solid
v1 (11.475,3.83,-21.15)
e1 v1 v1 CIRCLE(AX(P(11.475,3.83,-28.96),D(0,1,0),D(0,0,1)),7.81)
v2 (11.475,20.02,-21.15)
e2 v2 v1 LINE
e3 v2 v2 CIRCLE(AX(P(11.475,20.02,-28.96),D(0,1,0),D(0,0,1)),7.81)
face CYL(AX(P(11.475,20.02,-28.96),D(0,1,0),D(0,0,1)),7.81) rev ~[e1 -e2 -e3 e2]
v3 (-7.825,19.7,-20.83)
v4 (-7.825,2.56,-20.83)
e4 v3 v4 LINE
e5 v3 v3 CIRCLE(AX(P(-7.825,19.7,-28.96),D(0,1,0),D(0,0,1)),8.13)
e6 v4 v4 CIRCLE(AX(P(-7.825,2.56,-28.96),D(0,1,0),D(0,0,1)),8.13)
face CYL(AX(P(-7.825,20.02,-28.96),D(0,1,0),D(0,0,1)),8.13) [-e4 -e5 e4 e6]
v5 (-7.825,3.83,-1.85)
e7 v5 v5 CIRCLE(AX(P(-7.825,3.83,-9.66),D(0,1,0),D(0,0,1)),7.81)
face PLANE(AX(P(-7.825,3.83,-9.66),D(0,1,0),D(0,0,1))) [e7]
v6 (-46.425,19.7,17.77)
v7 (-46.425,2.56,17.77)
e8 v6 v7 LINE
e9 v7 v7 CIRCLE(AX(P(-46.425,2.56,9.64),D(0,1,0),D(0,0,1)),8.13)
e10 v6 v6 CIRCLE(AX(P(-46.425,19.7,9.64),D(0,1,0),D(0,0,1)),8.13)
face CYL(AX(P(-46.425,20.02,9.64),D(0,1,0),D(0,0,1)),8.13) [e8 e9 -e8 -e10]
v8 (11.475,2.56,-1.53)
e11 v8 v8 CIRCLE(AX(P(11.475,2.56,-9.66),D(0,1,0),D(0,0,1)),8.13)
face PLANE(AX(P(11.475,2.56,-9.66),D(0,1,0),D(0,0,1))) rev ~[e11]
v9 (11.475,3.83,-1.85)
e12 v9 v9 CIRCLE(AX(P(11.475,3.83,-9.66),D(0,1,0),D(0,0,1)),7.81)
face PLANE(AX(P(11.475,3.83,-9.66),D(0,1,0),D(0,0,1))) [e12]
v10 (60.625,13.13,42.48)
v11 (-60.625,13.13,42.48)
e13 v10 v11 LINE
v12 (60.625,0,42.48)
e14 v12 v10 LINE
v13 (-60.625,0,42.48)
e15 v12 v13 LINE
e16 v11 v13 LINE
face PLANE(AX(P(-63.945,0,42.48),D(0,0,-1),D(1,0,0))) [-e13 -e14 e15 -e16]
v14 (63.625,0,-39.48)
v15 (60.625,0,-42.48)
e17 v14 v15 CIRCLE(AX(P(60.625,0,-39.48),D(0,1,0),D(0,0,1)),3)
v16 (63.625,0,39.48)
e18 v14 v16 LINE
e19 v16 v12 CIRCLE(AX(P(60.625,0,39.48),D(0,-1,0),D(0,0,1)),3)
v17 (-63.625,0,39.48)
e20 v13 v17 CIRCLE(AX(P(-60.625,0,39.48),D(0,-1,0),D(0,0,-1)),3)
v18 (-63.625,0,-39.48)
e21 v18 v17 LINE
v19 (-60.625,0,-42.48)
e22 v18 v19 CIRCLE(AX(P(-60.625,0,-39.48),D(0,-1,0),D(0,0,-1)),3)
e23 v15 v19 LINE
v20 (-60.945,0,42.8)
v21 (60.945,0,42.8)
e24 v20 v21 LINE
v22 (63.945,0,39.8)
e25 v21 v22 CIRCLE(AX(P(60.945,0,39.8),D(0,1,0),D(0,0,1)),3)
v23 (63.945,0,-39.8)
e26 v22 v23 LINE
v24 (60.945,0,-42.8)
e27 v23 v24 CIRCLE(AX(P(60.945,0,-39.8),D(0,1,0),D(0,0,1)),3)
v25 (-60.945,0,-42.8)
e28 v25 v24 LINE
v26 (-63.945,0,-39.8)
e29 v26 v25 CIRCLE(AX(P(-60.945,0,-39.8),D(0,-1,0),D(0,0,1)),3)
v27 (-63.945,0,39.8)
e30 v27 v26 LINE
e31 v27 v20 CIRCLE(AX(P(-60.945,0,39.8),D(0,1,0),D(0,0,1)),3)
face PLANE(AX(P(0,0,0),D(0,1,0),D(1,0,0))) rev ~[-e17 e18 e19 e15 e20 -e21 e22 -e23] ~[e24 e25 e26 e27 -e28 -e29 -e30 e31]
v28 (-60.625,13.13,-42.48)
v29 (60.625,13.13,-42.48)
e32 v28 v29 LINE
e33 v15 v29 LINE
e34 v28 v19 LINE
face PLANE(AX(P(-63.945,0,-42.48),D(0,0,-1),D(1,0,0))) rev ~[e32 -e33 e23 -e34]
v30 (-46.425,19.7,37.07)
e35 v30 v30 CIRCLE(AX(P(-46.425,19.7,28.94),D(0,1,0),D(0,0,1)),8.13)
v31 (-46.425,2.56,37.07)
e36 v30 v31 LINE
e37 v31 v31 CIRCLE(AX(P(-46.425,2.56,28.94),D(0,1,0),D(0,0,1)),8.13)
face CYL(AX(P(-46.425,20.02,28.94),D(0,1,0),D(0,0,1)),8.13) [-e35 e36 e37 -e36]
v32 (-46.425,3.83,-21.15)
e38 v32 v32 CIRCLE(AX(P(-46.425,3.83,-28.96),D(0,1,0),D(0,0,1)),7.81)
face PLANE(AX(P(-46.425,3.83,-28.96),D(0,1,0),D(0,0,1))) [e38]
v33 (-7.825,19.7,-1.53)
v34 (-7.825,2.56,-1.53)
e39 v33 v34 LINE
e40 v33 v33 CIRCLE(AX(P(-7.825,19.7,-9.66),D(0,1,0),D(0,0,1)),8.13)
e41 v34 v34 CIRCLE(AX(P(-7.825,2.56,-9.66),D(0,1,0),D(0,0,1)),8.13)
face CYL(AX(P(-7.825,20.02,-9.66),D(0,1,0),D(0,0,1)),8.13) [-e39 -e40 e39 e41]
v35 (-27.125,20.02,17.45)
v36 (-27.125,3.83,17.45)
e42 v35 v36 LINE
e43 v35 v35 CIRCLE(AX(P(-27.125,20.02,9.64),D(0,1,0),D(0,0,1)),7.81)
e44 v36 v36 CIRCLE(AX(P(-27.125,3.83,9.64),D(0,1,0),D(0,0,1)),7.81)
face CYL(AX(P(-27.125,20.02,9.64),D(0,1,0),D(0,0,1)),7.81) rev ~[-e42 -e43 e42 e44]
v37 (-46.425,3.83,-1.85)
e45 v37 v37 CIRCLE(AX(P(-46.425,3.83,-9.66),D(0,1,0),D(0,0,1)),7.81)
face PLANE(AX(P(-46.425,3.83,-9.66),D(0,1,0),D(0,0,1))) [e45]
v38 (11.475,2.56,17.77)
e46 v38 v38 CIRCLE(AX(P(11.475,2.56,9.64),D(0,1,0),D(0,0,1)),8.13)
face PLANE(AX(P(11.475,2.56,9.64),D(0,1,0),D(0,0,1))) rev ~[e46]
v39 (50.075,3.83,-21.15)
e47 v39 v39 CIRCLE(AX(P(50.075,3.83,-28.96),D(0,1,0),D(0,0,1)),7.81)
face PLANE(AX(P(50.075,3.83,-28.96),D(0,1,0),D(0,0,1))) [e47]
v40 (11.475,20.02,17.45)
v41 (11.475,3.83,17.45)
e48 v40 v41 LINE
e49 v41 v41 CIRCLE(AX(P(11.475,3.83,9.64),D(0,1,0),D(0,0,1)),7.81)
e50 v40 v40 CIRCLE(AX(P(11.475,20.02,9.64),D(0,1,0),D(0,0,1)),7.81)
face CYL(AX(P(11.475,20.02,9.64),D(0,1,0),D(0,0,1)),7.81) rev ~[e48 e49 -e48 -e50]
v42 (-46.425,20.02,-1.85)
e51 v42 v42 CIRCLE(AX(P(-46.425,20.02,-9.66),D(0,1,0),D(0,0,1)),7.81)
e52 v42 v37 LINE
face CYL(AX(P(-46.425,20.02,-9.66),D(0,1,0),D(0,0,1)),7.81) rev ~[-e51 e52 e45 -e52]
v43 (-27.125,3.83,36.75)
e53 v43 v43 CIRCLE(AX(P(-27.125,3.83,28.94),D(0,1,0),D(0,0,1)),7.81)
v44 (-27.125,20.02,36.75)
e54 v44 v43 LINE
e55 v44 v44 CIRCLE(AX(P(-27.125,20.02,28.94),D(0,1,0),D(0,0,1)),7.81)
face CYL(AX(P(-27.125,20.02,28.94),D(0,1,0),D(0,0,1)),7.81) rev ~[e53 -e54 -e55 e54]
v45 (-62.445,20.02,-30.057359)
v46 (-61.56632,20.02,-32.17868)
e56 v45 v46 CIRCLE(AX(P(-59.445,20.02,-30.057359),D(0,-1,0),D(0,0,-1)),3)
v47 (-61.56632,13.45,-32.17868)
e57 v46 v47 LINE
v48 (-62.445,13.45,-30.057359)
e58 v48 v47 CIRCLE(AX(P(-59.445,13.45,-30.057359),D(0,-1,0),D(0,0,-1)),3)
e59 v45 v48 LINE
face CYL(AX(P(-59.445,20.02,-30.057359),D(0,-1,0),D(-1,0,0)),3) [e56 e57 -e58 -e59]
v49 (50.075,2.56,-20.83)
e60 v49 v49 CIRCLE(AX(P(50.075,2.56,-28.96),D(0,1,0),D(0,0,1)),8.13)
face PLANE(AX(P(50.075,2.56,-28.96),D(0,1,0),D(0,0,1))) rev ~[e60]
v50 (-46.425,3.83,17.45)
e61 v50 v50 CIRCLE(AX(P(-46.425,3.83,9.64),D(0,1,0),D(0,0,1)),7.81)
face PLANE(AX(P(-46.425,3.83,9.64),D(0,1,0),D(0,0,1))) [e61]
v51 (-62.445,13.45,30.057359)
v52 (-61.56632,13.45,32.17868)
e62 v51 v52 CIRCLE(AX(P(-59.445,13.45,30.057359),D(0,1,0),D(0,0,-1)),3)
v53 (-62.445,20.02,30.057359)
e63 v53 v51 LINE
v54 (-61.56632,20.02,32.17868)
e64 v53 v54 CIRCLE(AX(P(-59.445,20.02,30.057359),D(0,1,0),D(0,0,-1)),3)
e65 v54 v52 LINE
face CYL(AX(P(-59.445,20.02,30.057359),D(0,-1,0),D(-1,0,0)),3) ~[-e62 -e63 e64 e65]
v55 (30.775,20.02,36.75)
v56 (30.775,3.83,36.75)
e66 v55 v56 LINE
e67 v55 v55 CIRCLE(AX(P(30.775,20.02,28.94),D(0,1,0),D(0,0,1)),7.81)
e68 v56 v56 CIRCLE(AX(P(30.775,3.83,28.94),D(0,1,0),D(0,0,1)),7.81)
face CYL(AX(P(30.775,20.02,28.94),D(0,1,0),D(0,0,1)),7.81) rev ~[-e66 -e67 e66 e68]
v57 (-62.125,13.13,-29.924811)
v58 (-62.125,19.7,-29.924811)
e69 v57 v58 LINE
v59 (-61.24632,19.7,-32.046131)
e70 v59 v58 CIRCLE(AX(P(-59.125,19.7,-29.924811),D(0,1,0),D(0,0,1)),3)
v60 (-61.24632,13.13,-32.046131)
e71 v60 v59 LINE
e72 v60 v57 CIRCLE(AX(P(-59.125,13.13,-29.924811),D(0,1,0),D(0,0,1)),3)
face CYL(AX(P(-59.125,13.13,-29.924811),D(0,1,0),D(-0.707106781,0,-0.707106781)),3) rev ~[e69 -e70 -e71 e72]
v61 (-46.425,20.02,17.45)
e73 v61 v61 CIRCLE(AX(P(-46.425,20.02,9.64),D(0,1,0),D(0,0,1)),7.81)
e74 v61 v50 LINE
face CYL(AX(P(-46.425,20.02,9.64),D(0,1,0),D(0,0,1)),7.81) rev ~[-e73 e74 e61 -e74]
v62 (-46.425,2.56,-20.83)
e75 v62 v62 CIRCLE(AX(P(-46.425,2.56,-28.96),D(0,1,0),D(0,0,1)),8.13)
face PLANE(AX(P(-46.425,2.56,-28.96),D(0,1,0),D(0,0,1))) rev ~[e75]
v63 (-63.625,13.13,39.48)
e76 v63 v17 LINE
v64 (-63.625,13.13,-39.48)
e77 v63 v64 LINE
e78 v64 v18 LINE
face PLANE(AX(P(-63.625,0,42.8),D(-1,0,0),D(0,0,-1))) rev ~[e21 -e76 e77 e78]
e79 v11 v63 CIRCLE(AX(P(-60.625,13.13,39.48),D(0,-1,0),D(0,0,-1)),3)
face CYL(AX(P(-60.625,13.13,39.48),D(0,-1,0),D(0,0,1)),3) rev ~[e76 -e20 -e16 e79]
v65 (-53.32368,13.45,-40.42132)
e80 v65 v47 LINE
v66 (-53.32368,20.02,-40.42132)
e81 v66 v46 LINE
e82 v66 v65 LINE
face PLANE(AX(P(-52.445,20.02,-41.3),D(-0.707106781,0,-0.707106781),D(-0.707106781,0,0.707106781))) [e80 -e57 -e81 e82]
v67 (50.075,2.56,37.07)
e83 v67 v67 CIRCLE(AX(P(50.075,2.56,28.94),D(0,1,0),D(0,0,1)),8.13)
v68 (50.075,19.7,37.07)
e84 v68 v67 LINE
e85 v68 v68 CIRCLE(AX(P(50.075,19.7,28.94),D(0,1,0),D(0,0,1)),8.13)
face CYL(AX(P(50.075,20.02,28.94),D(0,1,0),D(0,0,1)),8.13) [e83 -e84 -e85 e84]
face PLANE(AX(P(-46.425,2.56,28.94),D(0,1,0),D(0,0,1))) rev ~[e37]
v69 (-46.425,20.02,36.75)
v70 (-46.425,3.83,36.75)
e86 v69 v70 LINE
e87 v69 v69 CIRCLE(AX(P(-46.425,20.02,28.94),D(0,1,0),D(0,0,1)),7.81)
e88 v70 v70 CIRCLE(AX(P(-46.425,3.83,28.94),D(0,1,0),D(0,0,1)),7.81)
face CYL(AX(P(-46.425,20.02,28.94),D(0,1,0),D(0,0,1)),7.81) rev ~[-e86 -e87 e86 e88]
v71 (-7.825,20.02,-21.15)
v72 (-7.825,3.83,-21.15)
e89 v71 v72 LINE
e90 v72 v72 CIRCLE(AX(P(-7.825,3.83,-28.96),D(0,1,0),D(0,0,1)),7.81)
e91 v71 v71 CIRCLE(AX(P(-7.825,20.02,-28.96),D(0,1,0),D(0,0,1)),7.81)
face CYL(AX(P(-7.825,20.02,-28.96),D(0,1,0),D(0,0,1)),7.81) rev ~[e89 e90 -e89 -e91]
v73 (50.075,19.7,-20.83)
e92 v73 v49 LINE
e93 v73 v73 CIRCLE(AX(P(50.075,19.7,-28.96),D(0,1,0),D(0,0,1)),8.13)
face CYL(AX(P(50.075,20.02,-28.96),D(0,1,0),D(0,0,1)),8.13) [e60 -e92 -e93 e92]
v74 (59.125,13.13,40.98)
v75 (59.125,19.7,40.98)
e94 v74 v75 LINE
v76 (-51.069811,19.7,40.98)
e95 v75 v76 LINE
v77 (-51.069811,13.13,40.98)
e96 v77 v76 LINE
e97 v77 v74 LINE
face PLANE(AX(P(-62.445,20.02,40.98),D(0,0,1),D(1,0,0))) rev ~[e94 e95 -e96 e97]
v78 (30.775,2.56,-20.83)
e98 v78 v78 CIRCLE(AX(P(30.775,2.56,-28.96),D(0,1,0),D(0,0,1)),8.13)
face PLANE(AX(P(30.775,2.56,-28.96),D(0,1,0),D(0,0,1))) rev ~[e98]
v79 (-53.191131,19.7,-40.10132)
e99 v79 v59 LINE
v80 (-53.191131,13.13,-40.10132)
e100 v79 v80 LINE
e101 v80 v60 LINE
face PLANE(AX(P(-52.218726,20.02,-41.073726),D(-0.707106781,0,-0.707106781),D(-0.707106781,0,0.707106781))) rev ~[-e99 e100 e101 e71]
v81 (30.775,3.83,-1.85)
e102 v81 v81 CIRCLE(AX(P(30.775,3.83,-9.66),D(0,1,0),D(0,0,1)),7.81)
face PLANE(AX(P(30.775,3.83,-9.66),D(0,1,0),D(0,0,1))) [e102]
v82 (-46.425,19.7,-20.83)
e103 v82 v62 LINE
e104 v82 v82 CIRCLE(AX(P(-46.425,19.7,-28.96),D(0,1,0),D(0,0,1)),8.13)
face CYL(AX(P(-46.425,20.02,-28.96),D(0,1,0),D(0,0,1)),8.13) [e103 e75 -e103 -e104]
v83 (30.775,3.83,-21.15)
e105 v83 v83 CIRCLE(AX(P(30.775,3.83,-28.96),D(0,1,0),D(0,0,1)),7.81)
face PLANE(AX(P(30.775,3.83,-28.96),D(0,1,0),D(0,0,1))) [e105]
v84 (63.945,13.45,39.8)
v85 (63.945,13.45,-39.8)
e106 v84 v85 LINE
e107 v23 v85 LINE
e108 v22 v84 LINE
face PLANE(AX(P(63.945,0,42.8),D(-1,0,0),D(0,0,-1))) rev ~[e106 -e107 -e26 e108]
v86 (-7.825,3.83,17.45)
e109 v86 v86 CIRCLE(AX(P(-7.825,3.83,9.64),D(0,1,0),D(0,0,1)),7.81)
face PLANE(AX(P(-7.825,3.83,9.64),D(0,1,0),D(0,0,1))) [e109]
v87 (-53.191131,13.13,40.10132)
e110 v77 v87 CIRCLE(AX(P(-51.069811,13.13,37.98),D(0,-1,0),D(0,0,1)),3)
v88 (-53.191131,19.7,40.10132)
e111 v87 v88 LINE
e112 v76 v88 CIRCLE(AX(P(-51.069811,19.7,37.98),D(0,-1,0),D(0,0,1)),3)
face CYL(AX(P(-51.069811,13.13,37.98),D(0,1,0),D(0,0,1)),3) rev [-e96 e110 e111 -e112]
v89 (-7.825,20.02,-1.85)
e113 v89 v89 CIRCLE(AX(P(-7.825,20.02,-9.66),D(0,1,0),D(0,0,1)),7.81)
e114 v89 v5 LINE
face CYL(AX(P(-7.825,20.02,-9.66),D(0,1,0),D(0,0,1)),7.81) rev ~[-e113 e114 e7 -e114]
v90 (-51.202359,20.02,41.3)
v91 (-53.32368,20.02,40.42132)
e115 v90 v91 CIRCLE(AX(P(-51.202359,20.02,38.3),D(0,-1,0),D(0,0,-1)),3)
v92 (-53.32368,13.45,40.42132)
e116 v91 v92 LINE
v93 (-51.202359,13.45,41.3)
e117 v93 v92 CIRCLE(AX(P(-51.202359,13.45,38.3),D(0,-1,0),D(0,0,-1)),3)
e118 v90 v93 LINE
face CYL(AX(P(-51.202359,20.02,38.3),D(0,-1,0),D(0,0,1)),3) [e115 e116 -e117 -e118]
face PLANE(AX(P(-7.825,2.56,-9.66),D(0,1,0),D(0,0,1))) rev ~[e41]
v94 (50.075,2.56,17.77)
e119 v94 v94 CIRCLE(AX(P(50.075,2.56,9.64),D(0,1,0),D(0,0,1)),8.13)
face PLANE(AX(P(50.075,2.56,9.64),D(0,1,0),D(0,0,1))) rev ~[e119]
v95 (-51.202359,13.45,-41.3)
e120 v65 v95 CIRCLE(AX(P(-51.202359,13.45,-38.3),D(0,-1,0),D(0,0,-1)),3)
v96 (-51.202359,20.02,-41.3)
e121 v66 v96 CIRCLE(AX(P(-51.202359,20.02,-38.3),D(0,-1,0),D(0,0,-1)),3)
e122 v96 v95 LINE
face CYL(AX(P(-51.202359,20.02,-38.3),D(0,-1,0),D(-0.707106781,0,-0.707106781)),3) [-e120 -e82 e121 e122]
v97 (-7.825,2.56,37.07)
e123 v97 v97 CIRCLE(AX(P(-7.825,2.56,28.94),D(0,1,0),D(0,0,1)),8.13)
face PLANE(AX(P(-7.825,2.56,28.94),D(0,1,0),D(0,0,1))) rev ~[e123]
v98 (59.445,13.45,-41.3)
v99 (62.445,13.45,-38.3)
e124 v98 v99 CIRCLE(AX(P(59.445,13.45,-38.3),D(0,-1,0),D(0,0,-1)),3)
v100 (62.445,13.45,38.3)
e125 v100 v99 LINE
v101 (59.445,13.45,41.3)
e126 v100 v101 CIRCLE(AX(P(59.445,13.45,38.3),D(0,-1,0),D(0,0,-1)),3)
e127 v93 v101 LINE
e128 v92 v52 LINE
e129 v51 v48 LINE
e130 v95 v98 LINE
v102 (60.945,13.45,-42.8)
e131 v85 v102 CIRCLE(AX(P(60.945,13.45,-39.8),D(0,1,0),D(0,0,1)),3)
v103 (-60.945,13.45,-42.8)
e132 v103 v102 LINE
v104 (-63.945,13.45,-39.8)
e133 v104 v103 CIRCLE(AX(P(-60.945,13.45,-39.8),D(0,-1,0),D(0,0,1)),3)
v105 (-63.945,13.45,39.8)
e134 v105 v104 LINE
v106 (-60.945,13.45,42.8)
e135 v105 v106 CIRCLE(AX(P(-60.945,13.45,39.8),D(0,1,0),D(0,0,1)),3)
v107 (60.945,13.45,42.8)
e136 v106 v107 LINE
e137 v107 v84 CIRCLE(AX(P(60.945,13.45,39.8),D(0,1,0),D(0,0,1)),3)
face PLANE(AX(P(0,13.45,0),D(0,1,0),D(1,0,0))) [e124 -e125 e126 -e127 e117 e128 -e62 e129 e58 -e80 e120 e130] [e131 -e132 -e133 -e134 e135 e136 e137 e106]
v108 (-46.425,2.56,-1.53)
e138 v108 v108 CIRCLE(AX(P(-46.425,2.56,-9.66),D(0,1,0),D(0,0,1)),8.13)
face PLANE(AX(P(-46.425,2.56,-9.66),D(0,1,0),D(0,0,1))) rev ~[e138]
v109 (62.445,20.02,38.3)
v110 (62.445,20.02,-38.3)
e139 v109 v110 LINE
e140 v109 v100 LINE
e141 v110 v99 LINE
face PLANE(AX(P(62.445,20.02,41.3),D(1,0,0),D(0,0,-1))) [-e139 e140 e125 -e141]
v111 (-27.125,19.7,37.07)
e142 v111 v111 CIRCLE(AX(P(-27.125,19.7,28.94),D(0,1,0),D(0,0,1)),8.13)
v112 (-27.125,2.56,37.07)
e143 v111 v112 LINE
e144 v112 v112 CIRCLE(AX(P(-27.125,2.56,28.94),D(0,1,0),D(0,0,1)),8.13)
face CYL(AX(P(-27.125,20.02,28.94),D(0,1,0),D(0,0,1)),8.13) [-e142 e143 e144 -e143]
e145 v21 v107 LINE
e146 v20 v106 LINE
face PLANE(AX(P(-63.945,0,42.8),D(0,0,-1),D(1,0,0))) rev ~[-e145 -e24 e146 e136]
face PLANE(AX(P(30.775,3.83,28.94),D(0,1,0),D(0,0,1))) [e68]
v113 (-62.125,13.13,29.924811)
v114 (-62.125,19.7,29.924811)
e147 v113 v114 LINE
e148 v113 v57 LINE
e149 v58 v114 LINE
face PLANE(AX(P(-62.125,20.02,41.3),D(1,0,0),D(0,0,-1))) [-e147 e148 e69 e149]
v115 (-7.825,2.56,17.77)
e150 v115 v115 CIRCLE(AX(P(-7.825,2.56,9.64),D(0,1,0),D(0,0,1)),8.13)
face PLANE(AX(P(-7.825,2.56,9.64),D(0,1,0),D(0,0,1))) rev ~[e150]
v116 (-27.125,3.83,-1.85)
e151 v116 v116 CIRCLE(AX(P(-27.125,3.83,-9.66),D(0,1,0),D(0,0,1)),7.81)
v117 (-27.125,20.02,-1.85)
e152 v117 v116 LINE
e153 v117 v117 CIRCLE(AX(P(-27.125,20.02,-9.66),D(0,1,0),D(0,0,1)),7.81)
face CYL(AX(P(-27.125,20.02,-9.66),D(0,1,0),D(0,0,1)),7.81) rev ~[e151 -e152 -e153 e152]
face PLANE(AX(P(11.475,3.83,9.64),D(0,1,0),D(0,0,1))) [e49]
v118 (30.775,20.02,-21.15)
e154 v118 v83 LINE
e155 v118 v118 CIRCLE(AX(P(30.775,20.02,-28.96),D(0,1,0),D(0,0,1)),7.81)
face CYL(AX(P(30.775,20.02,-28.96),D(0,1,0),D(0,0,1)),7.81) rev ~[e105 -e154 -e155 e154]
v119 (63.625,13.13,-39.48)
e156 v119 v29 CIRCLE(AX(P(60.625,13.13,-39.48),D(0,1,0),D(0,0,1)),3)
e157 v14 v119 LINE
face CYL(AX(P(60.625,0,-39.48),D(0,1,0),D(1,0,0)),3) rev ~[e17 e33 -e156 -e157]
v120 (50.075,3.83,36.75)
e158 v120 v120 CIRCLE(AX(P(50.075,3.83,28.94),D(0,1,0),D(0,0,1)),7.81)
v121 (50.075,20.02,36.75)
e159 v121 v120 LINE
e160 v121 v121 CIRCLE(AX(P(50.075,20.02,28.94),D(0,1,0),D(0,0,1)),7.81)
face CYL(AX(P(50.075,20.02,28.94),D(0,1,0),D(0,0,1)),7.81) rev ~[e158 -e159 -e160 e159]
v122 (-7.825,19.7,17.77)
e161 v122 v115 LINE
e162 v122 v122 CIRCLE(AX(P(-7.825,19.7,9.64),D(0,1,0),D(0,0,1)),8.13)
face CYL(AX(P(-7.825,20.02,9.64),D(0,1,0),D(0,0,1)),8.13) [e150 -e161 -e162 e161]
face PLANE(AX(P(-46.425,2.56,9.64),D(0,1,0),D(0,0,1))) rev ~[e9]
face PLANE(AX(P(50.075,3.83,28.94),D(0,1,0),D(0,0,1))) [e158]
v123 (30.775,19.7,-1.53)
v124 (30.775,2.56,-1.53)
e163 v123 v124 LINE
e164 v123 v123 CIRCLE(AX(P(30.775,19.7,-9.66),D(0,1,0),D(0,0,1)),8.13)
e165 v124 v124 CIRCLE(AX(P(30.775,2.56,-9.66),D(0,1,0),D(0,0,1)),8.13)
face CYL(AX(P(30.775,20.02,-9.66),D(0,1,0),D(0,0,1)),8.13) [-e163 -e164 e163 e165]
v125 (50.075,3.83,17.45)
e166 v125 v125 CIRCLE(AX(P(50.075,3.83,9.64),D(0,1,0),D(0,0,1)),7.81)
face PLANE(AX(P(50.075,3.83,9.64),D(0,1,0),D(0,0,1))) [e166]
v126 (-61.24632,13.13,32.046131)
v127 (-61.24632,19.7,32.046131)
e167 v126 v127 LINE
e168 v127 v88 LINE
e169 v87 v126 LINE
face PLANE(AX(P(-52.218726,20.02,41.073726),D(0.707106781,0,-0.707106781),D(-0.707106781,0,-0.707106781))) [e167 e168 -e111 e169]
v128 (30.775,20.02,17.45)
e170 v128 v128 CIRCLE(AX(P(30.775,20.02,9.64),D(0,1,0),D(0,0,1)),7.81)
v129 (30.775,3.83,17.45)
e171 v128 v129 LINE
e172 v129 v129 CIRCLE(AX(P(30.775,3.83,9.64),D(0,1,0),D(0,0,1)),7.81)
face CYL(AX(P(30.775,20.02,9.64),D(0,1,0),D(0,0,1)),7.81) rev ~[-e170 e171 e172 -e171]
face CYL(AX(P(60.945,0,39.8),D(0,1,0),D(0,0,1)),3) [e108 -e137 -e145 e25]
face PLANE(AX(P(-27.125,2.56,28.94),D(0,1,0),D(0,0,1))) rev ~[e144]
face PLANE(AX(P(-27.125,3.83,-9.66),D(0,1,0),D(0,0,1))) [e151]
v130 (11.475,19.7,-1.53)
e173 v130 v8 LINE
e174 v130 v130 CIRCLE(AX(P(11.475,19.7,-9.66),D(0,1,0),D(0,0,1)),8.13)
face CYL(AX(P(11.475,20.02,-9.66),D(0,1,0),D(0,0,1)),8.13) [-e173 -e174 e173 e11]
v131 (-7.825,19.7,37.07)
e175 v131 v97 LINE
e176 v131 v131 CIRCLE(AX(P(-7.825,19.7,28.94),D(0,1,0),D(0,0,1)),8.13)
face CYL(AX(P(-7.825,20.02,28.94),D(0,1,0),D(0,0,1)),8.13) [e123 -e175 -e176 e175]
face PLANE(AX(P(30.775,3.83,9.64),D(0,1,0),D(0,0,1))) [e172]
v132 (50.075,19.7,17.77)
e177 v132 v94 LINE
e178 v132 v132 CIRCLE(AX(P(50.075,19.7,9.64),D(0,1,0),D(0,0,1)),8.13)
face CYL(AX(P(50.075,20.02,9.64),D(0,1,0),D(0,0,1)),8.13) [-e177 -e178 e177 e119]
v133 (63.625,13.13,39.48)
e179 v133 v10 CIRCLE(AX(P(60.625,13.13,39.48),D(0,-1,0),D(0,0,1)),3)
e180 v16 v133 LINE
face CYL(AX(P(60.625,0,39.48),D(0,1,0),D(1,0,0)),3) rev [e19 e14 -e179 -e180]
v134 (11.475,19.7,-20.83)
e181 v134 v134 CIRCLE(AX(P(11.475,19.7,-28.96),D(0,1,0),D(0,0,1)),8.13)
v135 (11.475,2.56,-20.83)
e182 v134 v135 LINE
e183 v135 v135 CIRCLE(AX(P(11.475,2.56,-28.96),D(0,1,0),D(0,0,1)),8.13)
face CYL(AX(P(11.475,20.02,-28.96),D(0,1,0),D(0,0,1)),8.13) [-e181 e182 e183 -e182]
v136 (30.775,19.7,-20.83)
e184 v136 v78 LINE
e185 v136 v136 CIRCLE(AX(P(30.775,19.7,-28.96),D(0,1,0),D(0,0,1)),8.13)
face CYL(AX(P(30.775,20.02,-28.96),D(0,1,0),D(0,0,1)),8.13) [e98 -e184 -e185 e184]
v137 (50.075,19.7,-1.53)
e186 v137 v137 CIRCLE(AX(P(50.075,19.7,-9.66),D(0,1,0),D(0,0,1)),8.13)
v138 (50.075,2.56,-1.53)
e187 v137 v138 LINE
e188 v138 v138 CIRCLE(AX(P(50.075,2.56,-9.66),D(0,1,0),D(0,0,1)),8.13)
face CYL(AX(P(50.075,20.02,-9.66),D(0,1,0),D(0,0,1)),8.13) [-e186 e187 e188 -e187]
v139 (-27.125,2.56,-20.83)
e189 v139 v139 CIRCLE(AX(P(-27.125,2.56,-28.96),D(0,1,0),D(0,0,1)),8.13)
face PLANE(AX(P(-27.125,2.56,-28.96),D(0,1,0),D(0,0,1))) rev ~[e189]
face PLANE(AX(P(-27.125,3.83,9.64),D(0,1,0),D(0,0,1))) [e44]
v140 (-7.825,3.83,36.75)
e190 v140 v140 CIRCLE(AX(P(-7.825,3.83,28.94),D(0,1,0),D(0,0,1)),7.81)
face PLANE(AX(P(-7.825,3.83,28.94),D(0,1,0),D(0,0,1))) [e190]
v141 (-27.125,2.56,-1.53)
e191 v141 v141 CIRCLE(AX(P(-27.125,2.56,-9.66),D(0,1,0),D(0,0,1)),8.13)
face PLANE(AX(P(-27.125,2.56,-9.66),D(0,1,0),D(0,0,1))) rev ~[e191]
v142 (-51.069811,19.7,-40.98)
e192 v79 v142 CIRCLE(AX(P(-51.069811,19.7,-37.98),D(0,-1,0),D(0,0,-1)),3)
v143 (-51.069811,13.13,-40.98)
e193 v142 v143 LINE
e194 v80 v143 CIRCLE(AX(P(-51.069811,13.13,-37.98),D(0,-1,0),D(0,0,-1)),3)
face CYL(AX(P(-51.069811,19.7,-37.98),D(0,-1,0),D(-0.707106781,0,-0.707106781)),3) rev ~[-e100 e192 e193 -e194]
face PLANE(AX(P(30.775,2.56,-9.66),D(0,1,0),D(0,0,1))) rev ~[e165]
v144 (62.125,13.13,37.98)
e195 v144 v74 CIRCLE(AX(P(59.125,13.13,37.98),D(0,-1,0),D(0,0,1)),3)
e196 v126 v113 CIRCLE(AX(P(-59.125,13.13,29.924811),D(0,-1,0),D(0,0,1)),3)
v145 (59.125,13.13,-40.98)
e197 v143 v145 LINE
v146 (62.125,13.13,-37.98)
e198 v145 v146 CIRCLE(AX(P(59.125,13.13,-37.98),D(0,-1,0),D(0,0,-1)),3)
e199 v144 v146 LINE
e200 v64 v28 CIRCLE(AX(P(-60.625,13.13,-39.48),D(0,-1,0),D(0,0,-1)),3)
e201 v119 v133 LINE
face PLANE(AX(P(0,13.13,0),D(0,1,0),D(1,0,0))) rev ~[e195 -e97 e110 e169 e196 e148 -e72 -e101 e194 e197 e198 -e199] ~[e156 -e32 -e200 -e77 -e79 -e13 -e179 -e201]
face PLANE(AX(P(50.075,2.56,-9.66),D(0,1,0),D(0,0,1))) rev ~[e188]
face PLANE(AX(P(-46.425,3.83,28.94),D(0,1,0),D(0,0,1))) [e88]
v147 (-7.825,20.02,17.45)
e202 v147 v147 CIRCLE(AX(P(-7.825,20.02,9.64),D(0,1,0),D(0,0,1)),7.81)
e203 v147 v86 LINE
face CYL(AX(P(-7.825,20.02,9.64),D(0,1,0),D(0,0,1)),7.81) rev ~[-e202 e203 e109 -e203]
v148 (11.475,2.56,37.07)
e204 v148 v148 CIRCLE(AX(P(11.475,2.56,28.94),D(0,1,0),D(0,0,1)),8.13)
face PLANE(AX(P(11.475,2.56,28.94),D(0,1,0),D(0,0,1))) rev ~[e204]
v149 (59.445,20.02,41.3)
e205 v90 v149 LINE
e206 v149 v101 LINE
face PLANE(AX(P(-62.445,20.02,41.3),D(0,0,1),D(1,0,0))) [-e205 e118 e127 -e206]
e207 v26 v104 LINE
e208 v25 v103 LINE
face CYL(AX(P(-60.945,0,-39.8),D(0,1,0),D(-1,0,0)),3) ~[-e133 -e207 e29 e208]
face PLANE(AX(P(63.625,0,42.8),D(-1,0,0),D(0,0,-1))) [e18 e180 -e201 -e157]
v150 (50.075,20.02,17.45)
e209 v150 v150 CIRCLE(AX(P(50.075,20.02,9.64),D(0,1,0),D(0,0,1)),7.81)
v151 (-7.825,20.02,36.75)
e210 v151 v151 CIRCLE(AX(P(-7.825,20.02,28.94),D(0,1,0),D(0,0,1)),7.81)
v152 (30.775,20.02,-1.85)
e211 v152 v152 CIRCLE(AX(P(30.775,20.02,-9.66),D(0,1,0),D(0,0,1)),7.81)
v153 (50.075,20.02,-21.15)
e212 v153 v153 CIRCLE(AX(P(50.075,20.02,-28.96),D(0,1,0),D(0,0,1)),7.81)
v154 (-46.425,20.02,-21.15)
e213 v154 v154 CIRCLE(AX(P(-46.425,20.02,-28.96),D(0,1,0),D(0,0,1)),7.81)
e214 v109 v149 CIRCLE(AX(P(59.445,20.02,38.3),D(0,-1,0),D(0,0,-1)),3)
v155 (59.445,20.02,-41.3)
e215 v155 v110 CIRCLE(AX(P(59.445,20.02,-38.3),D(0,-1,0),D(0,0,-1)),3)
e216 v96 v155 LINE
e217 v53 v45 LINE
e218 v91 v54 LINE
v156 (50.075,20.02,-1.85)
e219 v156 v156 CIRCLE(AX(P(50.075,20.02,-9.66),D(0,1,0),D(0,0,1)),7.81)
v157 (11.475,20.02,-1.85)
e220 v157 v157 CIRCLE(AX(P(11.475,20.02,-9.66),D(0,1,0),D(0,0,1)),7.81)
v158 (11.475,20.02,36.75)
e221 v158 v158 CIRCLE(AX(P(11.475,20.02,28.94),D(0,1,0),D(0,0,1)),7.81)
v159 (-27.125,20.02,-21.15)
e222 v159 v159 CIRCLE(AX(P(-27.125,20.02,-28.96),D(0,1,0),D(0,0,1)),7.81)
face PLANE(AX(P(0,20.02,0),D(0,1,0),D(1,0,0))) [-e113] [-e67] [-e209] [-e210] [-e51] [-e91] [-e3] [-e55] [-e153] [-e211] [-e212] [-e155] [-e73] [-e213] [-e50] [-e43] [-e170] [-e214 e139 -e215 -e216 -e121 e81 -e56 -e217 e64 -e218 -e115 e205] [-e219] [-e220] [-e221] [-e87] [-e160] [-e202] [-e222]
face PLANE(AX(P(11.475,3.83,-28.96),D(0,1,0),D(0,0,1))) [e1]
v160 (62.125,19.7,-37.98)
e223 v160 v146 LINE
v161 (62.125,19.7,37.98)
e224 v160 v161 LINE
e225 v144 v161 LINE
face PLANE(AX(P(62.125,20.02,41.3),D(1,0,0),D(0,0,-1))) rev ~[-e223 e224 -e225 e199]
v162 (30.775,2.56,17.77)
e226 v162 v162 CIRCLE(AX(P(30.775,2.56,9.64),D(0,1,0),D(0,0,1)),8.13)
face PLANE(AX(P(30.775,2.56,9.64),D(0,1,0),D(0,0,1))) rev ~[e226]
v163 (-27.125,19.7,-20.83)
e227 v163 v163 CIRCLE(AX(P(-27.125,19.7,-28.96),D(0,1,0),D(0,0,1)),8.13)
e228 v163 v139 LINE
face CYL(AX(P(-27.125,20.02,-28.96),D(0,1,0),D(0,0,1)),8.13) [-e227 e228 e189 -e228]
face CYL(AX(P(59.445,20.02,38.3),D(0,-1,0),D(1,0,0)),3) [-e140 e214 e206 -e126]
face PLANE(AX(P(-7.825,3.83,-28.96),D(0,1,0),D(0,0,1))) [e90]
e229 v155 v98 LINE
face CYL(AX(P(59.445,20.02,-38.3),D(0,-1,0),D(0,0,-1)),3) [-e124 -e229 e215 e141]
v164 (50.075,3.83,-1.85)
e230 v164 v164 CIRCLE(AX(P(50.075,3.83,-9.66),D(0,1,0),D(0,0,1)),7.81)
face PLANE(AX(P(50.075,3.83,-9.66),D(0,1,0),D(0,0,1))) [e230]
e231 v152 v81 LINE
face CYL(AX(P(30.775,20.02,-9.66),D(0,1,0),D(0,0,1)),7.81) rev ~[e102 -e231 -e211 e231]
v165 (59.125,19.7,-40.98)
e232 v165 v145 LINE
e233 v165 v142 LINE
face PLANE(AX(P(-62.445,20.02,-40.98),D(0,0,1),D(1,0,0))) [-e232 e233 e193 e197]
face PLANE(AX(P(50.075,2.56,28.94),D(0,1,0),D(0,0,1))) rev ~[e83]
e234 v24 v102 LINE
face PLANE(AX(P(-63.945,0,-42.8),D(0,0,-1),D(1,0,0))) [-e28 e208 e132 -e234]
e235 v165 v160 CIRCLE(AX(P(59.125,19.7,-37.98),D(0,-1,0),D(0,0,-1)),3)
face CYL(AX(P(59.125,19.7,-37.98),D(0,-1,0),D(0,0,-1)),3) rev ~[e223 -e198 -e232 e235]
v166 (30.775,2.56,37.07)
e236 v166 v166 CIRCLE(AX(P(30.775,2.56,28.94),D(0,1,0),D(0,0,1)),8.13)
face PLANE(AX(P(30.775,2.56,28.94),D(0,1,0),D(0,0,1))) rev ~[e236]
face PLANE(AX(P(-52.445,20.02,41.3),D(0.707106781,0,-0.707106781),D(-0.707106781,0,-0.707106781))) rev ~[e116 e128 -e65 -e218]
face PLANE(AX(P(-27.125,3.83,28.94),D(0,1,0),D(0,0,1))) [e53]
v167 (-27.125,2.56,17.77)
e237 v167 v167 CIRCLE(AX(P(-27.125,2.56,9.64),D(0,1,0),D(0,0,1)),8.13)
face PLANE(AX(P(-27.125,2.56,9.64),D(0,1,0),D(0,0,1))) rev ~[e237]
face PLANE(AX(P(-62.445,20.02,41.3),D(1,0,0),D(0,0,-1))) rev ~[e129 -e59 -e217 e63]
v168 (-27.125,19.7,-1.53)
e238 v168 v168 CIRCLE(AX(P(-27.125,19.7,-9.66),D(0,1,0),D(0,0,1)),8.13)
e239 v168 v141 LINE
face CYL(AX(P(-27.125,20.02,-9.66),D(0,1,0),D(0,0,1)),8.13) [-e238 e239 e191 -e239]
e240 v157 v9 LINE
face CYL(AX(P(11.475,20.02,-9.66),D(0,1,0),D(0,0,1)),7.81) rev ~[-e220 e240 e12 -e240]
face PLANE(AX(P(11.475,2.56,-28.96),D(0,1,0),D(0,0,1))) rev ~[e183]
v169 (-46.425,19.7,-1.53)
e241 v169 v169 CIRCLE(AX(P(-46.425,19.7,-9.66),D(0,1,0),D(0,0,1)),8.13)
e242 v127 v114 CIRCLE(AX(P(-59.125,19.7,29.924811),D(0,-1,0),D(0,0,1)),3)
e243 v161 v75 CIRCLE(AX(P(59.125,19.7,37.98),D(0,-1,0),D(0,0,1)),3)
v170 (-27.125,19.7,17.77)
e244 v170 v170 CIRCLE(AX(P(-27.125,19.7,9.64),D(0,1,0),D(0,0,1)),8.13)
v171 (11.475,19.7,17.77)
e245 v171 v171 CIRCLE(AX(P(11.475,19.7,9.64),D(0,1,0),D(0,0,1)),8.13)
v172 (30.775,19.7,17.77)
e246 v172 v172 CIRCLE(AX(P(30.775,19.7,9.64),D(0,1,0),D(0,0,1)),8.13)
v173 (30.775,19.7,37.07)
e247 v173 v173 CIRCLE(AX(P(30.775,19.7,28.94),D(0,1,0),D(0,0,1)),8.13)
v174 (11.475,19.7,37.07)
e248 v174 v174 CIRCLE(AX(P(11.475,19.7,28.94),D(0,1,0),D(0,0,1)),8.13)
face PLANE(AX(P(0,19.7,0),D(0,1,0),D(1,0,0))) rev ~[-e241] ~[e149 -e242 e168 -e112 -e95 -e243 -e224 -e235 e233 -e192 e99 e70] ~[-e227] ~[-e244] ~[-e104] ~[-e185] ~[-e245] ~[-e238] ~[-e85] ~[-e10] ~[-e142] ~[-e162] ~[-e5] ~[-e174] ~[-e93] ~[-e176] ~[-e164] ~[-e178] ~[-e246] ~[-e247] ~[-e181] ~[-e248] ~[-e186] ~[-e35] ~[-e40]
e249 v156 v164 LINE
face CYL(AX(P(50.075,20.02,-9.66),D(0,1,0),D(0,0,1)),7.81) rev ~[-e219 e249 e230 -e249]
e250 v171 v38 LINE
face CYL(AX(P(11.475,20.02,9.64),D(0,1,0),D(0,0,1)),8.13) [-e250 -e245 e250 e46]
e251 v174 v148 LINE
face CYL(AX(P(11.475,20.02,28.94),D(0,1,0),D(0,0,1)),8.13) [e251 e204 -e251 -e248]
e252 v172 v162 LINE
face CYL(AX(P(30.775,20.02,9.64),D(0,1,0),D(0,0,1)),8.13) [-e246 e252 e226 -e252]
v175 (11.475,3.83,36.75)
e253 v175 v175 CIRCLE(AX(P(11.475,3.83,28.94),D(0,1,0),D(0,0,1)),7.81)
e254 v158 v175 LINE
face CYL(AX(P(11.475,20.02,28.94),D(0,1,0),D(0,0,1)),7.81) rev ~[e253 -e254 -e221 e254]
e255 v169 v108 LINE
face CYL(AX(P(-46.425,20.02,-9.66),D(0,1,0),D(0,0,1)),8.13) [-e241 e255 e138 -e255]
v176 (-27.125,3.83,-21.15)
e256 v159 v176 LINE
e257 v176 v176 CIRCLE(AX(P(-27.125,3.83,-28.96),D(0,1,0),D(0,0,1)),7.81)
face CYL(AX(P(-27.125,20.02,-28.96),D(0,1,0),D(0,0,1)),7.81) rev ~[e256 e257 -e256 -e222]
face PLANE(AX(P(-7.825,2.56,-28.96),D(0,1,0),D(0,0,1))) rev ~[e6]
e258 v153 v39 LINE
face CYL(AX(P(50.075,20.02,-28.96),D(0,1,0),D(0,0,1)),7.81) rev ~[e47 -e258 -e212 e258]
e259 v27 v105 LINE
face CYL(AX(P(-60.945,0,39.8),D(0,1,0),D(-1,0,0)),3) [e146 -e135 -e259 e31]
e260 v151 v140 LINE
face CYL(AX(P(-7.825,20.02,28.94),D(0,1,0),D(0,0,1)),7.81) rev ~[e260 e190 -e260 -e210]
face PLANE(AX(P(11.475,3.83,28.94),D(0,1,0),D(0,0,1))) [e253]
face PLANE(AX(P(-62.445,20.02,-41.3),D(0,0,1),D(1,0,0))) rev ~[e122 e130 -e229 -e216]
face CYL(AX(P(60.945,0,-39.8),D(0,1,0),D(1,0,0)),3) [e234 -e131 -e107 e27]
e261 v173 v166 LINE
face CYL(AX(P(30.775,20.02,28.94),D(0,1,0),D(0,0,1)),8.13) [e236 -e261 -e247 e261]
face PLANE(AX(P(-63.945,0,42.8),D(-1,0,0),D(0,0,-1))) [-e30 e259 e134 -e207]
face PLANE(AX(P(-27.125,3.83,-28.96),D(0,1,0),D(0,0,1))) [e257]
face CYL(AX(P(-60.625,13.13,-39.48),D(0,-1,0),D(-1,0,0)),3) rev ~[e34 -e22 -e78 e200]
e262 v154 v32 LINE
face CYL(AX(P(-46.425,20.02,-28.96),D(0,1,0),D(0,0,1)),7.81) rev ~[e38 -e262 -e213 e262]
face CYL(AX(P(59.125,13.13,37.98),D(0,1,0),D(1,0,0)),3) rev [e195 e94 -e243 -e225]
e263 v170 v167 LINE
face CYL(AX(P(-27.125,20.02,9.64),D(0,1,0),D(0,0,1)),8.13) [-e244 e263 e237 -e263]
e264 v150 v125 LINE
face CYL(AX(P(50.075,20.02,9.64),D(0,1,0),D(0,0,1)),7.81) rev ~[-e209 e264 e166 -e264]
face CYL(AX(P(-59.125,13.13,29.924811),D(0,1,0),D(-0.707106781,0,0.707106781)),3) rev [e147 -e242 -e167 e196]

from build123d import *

# Parameters (mm, degrees)
SKETCH1_W                   = 127.89
SKETCH1_H                   = 85.6
MAIN_PLATE_DEPTH            = 20.02
WELLS_LSP_R                 = 7.81
WELLS_DEPTH_DEPTH           = 17.14
SKETCH7_W                   = 127.89
SKETCH7_H                   = 85.6
SKETCH7_W_2                 = 124.89
SKETCH7_H_2                 = 82.6
FLANGE_DEPTH                = 6.57
STYLE_3_DEPTH               = 6.57
THICKNESS_SHELLING_T        = -0.32
ADDT_L_START                = 0.95
WELL_ELEVATOR_R             = 7.81
ADDT_L_WELL_ELEVATION_DEPTH = 0.95
FLANGE_STYLE_FILLETS_R      = 3
PLATE_EDGE_FILLETS_R        = 3


with BuildPart() as part:
    # Sketch1 → Main Plate (new body)
    with BuildSketch(Plane(origin=(0, 0, 0), x_dir=(1, 0, 0), z_dir=(0, 1, 0))):
        Rectangle(SKETCH1_W, SKETCH1_H)
    extrude(amount=MAIN_PLATE_DEPTH)

    # Wells_LSP → Wells Depth (cut)
    with BuildSketch(Plane(origin=(0, 20.02, 0), x_dir=(1, 0, 0), z_dir=(0, 1, 0))):
        with Locations(Location((-46.425, 28.96, 0), (0, 0, 270))):
            Circle(WELLS_LSP_R)
        with Locations(Location((-27.125, 28.96, 0), (0, 0, 270))):
            Circle(WELLS_LSP_R)
        with Locations(Location((-7.825, 28.96, 0), (0, 0, 270))):
            Circle(WELLS_LSP_R)
        with Locations(Location((11.475, 28.96, 0), (0, 0, 270))):
            Circle(WELLS_LSP_R)
        with Locations(Location((30.775, 28.96, 0), (0, 0, 270))):
            Circle(WELLS_LSP_R)
        with Locations(Location((50.075, 28.96, 0), (0, 0, 270))):
            Circle(WELLS_LSP_R)
        with Locations(Location((-27.125, 9.66, 0), (0, 0, 270))):
            Circle(WELLS_LSP_R)
        with Locations(Location((-7.825, 9.66, 0), (0, 0, 270))):
            Circle(WELLS_LSP_R)
        with Locations(Location((11.475, 9.66, 0), (0, 0, 270))):
            Circle(WELLS_LSP_R)
        with Locations(Location((30.775, 9.66, 0), (0, 0, 270))):
            Circle(WELLS_LSP_R)
        with Locations(Location((50.075, 9.66, 0), (0, 0, 270))):
            Circle(WELLS_LSP_R)
        with Locations(Location((-27.125, -9.64, 0), (0, 0, 270))):
            Circle(WELLS_LSP_R)
        with Locations(Location((-7.825, -9.64, 0), (0, 0, 270))):
            Circle(WELLS_LSP_R)
        with Locations(Location((11.475, -9.64, 0), (0, 0, 270))):
            Circle(WELLS_LSP_R)
        with Locations(Location((30.775, -9.64, 0), (0, 0, 270))):
            Circle(WELLS_LSP_R)
        with Locations(Location((50.075, -9.64, 0), (0, 0, 270))):
            Circle(WELLS_LSP_R)
        with Locations(Location((-27.125, -28.94, 0), (0, 0, 270))):
            Circle(WELLS_LSP_R)
        with Locations(Location((-7.825, -28.94, 0), (0, 0, 270))):
            Circle(WELLS_LSP_R)
        with Locations(Location((11.475, -28.94, 0), (0, 0, 270))):
            Circle(WELLS_LSP_R)
        with Locations(Location((30.775, -28.94, 0), (0, 0, 270))):
            Circle(WELLS_LSP_R)
        with Locations(Location((50.075, -28.94, 0), (0, 0, 270))):
            Circle(WELLS_LSP_R)
        with Locations(Location((-46.425, 9.66, 0), (0, 0, 270))):
            Circle(WELLS_LSP_R)
        with Locations(Location((-46.425, -9.64, 0), (0, 0, 270))):
            Circle(WELLS_LSP_R)
        with Locations(Location((-46.425, -28.94, 0), (0, 0, 270))):
            Circle(WELLS_LSP_R)
    extrude(amount=-WELLS_DEPTH_DEPTH, mode=Mode.SUBTRACT)

    # Sketch7 → Flange (cut)
    with BuildSketch(Plane(origin=(0, 20.02, 0), x_dir=(1, 0, 0), z_dir=(0, 1, 0))):
        Rectangle(SKETCH7_W, SKETCH7_H)
        Rectangle(SKETCH7_W_2, SKETCH7_H_2, mode=Mode.SUBTRACT)
    extrude(amount=-FLANGE_DEPTH, mode=Mode.SUBTRACT)

    # Style Sketch → Style <3 (cut)
    with BuildSketch(Plane(origin=(0, 20.02, 0), x_dir=(1, 0, 0), z_dir=(0, 1, 0))):
        Polygon((-62.445, 41.3), (-52.445, 41.3), (-62.445, 31.3), align=None)
        Polygon((-62.445, -41.3), (-52.445, -41.3), (-62.445, -31.3), align=None)
    extrude(amount=-STYLE_3_DEPTH, mode=Mode.SUBTRACT)

    # Thickness Shelling
    thickness_shelling_openings = [part.faces().sort_by_distance(p)[0] for p in [
        (0, 0, 0),
    ]]
    offset(amount=THICKNESS_SHELLING_T, openings=thickness_shelling_openings, kind=Kind.INTERSECTION)

    # Well Elevator → Addt'l Well Elevation (add)
    with BuildSketch(Plane(origin=(0, 2.88, 0), x_dir=(1, 0, 0), z_dir=(0, 1, 0)).offset(ADDT_L_START)):
        with Locations(Location((-46.425, 28.96, 0), (0, 0, 270))):
            Circle(WELL_ELEVATOR_R)
        with Locations(Location((-27.125, 28.96, 0), (0, 0, 270))):
            Circle(WELL_ELEVATOR_R)
        with Locations(Location((-7.825, 28.96, 0), (0, 0, 270))):
            Circle(WELL_ELEVATOR_R)
        with Locations(Location((11.475, 28.96, 0), (0, 0, 270))):
            Circle(WELL_ELEVATOR_R)
        with Locations(Location((30.775, 28.96, 0), (0, 0, 270))):
            Circle(WELL_ELEVATOR_R)
        with Locations(Location((50.075, 28.96, 0), (0, 0, 270))):
            Circle(WELL_ELEVATOR_R)
        with Locations(Location((-27.125, 9.66, 0), (0, 0, 270))):
            Circle(WELL_ELEVATOR_R)
        with Locations(Location((-7.825, 9.66, 0), (0, 0, 270))):
            Circle(WELL_ELEVATOR_R)
        with Locations(Location((11.475, 9.66, 0), (0, 0, 270))):
            Circle(WELL_ELEVATOR_R)
        with Locations(Location((30.775, 9.66, 0), (0, 0, 270))):
            Circle(WELL_ELEVATOR_R)
        with Locations(Location((50.075, 9.66, 0), (0, 0, 270))):
            Circle(WELL_ELEVATOR_R)
        with Locations(Location((-27.125, -9.64, 0), (0, 0, 270))):
            Circle(WELL_ELEVATOR_R)
        with Locations(Location((-7.825, -9.64, 0), (0, 0, 270))):
            Circle(WELL_ELEVATOR_R)
        with Locations(Location((11.475, -9.64, 0), (0, 0, 270))):
            Circle(WELL_ELEVATOR_R)
        with Locations(Location((30.775, -9.64, 0), (0, 0, 270))):
            Circle(WELL_ELEVATOR_R)
        with Locations(Location((50.075, -9.64, 0), (0, 0, 270))):
            Circle(WELL_ELEVATOR_R)
        with Locations(Location((-27.125, -28.94, 0), (0, 0, 270))):
            Circle(WELL_ELEVATOR_R)
        with Locations(Location((-7.825, -28.94, 0), (0, 0, 270))):
            Circle(WELL_ELEVATOR_R)
        with Locations(Location((11.475, -28.94, 0), (0, 0, 270))):
            Circle(WELL_ELEVATOR_R)
        with Locations(Location((30.775, -28.94, 0), (0, 0, 270))):
            Circle(WELL_ELEVATOR_R)
        with Locations(Location((50.075, -28.94, 0), (0, 0, 270))):
            Circle(WELL_ELEVATOR_R)
        with Locations(Location((-46.425, 9.66, 0), (0, 0, 270))):
            Circle(WELL_ELEVATOR_R)
        with Locations(Location((-46.425, -9.64, 0), (0, 0, 270))):
            Circle(WELL_ELEVATOR_R)
        with Locations(Location((-46.425, -28.94, 0), (0, 0, 270))):
            Circle(WELL_ELEVATOR_R)
    extrude(amount=-ADDT_L_WELL_ELEVATION_DEPTH)

    # Flange/Style Fillets
    flange_style_fillets_edges = [part.edges().sort_by_distance(p)[0] for p in [
        (62.445, 16.735, 41.3),
        (62.445, 16.735, -41.3),
        (-62.445, 16.735, -31.3),
        (-52.445, 16.735, -41.3),
        (-62.445, 16.735, 31.3),
        (-52.445, 16.735, 41.3),
        (62.125, 16.415, -40.98),
        (62.125, 16.415, 40.98),
        (-62.125, 16.415, 31.16745166),
        (-52.31245166, 16.415, -40.98),
        (-62.125, 16.415, -31.16745166),
        (-52.31245166, 16.415, 40.98),
    ]]
    fillet(flange_style_fillets_edges, radius=FLANGE_STYLE_FILLETS_R)

    # Plate Edge Fillets
    plate_edge_fillets_edges = [part.edges().sort_by_distance(p)[0] for p in [
        (63.945, 6.725, 42.8),
        (-63.945, 6.725, 42.8),
        (-63.945, 6.725, -42.8),
        (63.945, 6.725, -42.8),
        (-63.625, 6.565, 42.48),
        (-63.625, 6.565, -42.48),
        (63.625, 6.565, -42.48),
        (63.625, 6.565, 42.48),
    ]]
    fillet(plate_edge_fillets_edges, radius=PLATE_EDGE_FILLETS_R)


solid = part.part
